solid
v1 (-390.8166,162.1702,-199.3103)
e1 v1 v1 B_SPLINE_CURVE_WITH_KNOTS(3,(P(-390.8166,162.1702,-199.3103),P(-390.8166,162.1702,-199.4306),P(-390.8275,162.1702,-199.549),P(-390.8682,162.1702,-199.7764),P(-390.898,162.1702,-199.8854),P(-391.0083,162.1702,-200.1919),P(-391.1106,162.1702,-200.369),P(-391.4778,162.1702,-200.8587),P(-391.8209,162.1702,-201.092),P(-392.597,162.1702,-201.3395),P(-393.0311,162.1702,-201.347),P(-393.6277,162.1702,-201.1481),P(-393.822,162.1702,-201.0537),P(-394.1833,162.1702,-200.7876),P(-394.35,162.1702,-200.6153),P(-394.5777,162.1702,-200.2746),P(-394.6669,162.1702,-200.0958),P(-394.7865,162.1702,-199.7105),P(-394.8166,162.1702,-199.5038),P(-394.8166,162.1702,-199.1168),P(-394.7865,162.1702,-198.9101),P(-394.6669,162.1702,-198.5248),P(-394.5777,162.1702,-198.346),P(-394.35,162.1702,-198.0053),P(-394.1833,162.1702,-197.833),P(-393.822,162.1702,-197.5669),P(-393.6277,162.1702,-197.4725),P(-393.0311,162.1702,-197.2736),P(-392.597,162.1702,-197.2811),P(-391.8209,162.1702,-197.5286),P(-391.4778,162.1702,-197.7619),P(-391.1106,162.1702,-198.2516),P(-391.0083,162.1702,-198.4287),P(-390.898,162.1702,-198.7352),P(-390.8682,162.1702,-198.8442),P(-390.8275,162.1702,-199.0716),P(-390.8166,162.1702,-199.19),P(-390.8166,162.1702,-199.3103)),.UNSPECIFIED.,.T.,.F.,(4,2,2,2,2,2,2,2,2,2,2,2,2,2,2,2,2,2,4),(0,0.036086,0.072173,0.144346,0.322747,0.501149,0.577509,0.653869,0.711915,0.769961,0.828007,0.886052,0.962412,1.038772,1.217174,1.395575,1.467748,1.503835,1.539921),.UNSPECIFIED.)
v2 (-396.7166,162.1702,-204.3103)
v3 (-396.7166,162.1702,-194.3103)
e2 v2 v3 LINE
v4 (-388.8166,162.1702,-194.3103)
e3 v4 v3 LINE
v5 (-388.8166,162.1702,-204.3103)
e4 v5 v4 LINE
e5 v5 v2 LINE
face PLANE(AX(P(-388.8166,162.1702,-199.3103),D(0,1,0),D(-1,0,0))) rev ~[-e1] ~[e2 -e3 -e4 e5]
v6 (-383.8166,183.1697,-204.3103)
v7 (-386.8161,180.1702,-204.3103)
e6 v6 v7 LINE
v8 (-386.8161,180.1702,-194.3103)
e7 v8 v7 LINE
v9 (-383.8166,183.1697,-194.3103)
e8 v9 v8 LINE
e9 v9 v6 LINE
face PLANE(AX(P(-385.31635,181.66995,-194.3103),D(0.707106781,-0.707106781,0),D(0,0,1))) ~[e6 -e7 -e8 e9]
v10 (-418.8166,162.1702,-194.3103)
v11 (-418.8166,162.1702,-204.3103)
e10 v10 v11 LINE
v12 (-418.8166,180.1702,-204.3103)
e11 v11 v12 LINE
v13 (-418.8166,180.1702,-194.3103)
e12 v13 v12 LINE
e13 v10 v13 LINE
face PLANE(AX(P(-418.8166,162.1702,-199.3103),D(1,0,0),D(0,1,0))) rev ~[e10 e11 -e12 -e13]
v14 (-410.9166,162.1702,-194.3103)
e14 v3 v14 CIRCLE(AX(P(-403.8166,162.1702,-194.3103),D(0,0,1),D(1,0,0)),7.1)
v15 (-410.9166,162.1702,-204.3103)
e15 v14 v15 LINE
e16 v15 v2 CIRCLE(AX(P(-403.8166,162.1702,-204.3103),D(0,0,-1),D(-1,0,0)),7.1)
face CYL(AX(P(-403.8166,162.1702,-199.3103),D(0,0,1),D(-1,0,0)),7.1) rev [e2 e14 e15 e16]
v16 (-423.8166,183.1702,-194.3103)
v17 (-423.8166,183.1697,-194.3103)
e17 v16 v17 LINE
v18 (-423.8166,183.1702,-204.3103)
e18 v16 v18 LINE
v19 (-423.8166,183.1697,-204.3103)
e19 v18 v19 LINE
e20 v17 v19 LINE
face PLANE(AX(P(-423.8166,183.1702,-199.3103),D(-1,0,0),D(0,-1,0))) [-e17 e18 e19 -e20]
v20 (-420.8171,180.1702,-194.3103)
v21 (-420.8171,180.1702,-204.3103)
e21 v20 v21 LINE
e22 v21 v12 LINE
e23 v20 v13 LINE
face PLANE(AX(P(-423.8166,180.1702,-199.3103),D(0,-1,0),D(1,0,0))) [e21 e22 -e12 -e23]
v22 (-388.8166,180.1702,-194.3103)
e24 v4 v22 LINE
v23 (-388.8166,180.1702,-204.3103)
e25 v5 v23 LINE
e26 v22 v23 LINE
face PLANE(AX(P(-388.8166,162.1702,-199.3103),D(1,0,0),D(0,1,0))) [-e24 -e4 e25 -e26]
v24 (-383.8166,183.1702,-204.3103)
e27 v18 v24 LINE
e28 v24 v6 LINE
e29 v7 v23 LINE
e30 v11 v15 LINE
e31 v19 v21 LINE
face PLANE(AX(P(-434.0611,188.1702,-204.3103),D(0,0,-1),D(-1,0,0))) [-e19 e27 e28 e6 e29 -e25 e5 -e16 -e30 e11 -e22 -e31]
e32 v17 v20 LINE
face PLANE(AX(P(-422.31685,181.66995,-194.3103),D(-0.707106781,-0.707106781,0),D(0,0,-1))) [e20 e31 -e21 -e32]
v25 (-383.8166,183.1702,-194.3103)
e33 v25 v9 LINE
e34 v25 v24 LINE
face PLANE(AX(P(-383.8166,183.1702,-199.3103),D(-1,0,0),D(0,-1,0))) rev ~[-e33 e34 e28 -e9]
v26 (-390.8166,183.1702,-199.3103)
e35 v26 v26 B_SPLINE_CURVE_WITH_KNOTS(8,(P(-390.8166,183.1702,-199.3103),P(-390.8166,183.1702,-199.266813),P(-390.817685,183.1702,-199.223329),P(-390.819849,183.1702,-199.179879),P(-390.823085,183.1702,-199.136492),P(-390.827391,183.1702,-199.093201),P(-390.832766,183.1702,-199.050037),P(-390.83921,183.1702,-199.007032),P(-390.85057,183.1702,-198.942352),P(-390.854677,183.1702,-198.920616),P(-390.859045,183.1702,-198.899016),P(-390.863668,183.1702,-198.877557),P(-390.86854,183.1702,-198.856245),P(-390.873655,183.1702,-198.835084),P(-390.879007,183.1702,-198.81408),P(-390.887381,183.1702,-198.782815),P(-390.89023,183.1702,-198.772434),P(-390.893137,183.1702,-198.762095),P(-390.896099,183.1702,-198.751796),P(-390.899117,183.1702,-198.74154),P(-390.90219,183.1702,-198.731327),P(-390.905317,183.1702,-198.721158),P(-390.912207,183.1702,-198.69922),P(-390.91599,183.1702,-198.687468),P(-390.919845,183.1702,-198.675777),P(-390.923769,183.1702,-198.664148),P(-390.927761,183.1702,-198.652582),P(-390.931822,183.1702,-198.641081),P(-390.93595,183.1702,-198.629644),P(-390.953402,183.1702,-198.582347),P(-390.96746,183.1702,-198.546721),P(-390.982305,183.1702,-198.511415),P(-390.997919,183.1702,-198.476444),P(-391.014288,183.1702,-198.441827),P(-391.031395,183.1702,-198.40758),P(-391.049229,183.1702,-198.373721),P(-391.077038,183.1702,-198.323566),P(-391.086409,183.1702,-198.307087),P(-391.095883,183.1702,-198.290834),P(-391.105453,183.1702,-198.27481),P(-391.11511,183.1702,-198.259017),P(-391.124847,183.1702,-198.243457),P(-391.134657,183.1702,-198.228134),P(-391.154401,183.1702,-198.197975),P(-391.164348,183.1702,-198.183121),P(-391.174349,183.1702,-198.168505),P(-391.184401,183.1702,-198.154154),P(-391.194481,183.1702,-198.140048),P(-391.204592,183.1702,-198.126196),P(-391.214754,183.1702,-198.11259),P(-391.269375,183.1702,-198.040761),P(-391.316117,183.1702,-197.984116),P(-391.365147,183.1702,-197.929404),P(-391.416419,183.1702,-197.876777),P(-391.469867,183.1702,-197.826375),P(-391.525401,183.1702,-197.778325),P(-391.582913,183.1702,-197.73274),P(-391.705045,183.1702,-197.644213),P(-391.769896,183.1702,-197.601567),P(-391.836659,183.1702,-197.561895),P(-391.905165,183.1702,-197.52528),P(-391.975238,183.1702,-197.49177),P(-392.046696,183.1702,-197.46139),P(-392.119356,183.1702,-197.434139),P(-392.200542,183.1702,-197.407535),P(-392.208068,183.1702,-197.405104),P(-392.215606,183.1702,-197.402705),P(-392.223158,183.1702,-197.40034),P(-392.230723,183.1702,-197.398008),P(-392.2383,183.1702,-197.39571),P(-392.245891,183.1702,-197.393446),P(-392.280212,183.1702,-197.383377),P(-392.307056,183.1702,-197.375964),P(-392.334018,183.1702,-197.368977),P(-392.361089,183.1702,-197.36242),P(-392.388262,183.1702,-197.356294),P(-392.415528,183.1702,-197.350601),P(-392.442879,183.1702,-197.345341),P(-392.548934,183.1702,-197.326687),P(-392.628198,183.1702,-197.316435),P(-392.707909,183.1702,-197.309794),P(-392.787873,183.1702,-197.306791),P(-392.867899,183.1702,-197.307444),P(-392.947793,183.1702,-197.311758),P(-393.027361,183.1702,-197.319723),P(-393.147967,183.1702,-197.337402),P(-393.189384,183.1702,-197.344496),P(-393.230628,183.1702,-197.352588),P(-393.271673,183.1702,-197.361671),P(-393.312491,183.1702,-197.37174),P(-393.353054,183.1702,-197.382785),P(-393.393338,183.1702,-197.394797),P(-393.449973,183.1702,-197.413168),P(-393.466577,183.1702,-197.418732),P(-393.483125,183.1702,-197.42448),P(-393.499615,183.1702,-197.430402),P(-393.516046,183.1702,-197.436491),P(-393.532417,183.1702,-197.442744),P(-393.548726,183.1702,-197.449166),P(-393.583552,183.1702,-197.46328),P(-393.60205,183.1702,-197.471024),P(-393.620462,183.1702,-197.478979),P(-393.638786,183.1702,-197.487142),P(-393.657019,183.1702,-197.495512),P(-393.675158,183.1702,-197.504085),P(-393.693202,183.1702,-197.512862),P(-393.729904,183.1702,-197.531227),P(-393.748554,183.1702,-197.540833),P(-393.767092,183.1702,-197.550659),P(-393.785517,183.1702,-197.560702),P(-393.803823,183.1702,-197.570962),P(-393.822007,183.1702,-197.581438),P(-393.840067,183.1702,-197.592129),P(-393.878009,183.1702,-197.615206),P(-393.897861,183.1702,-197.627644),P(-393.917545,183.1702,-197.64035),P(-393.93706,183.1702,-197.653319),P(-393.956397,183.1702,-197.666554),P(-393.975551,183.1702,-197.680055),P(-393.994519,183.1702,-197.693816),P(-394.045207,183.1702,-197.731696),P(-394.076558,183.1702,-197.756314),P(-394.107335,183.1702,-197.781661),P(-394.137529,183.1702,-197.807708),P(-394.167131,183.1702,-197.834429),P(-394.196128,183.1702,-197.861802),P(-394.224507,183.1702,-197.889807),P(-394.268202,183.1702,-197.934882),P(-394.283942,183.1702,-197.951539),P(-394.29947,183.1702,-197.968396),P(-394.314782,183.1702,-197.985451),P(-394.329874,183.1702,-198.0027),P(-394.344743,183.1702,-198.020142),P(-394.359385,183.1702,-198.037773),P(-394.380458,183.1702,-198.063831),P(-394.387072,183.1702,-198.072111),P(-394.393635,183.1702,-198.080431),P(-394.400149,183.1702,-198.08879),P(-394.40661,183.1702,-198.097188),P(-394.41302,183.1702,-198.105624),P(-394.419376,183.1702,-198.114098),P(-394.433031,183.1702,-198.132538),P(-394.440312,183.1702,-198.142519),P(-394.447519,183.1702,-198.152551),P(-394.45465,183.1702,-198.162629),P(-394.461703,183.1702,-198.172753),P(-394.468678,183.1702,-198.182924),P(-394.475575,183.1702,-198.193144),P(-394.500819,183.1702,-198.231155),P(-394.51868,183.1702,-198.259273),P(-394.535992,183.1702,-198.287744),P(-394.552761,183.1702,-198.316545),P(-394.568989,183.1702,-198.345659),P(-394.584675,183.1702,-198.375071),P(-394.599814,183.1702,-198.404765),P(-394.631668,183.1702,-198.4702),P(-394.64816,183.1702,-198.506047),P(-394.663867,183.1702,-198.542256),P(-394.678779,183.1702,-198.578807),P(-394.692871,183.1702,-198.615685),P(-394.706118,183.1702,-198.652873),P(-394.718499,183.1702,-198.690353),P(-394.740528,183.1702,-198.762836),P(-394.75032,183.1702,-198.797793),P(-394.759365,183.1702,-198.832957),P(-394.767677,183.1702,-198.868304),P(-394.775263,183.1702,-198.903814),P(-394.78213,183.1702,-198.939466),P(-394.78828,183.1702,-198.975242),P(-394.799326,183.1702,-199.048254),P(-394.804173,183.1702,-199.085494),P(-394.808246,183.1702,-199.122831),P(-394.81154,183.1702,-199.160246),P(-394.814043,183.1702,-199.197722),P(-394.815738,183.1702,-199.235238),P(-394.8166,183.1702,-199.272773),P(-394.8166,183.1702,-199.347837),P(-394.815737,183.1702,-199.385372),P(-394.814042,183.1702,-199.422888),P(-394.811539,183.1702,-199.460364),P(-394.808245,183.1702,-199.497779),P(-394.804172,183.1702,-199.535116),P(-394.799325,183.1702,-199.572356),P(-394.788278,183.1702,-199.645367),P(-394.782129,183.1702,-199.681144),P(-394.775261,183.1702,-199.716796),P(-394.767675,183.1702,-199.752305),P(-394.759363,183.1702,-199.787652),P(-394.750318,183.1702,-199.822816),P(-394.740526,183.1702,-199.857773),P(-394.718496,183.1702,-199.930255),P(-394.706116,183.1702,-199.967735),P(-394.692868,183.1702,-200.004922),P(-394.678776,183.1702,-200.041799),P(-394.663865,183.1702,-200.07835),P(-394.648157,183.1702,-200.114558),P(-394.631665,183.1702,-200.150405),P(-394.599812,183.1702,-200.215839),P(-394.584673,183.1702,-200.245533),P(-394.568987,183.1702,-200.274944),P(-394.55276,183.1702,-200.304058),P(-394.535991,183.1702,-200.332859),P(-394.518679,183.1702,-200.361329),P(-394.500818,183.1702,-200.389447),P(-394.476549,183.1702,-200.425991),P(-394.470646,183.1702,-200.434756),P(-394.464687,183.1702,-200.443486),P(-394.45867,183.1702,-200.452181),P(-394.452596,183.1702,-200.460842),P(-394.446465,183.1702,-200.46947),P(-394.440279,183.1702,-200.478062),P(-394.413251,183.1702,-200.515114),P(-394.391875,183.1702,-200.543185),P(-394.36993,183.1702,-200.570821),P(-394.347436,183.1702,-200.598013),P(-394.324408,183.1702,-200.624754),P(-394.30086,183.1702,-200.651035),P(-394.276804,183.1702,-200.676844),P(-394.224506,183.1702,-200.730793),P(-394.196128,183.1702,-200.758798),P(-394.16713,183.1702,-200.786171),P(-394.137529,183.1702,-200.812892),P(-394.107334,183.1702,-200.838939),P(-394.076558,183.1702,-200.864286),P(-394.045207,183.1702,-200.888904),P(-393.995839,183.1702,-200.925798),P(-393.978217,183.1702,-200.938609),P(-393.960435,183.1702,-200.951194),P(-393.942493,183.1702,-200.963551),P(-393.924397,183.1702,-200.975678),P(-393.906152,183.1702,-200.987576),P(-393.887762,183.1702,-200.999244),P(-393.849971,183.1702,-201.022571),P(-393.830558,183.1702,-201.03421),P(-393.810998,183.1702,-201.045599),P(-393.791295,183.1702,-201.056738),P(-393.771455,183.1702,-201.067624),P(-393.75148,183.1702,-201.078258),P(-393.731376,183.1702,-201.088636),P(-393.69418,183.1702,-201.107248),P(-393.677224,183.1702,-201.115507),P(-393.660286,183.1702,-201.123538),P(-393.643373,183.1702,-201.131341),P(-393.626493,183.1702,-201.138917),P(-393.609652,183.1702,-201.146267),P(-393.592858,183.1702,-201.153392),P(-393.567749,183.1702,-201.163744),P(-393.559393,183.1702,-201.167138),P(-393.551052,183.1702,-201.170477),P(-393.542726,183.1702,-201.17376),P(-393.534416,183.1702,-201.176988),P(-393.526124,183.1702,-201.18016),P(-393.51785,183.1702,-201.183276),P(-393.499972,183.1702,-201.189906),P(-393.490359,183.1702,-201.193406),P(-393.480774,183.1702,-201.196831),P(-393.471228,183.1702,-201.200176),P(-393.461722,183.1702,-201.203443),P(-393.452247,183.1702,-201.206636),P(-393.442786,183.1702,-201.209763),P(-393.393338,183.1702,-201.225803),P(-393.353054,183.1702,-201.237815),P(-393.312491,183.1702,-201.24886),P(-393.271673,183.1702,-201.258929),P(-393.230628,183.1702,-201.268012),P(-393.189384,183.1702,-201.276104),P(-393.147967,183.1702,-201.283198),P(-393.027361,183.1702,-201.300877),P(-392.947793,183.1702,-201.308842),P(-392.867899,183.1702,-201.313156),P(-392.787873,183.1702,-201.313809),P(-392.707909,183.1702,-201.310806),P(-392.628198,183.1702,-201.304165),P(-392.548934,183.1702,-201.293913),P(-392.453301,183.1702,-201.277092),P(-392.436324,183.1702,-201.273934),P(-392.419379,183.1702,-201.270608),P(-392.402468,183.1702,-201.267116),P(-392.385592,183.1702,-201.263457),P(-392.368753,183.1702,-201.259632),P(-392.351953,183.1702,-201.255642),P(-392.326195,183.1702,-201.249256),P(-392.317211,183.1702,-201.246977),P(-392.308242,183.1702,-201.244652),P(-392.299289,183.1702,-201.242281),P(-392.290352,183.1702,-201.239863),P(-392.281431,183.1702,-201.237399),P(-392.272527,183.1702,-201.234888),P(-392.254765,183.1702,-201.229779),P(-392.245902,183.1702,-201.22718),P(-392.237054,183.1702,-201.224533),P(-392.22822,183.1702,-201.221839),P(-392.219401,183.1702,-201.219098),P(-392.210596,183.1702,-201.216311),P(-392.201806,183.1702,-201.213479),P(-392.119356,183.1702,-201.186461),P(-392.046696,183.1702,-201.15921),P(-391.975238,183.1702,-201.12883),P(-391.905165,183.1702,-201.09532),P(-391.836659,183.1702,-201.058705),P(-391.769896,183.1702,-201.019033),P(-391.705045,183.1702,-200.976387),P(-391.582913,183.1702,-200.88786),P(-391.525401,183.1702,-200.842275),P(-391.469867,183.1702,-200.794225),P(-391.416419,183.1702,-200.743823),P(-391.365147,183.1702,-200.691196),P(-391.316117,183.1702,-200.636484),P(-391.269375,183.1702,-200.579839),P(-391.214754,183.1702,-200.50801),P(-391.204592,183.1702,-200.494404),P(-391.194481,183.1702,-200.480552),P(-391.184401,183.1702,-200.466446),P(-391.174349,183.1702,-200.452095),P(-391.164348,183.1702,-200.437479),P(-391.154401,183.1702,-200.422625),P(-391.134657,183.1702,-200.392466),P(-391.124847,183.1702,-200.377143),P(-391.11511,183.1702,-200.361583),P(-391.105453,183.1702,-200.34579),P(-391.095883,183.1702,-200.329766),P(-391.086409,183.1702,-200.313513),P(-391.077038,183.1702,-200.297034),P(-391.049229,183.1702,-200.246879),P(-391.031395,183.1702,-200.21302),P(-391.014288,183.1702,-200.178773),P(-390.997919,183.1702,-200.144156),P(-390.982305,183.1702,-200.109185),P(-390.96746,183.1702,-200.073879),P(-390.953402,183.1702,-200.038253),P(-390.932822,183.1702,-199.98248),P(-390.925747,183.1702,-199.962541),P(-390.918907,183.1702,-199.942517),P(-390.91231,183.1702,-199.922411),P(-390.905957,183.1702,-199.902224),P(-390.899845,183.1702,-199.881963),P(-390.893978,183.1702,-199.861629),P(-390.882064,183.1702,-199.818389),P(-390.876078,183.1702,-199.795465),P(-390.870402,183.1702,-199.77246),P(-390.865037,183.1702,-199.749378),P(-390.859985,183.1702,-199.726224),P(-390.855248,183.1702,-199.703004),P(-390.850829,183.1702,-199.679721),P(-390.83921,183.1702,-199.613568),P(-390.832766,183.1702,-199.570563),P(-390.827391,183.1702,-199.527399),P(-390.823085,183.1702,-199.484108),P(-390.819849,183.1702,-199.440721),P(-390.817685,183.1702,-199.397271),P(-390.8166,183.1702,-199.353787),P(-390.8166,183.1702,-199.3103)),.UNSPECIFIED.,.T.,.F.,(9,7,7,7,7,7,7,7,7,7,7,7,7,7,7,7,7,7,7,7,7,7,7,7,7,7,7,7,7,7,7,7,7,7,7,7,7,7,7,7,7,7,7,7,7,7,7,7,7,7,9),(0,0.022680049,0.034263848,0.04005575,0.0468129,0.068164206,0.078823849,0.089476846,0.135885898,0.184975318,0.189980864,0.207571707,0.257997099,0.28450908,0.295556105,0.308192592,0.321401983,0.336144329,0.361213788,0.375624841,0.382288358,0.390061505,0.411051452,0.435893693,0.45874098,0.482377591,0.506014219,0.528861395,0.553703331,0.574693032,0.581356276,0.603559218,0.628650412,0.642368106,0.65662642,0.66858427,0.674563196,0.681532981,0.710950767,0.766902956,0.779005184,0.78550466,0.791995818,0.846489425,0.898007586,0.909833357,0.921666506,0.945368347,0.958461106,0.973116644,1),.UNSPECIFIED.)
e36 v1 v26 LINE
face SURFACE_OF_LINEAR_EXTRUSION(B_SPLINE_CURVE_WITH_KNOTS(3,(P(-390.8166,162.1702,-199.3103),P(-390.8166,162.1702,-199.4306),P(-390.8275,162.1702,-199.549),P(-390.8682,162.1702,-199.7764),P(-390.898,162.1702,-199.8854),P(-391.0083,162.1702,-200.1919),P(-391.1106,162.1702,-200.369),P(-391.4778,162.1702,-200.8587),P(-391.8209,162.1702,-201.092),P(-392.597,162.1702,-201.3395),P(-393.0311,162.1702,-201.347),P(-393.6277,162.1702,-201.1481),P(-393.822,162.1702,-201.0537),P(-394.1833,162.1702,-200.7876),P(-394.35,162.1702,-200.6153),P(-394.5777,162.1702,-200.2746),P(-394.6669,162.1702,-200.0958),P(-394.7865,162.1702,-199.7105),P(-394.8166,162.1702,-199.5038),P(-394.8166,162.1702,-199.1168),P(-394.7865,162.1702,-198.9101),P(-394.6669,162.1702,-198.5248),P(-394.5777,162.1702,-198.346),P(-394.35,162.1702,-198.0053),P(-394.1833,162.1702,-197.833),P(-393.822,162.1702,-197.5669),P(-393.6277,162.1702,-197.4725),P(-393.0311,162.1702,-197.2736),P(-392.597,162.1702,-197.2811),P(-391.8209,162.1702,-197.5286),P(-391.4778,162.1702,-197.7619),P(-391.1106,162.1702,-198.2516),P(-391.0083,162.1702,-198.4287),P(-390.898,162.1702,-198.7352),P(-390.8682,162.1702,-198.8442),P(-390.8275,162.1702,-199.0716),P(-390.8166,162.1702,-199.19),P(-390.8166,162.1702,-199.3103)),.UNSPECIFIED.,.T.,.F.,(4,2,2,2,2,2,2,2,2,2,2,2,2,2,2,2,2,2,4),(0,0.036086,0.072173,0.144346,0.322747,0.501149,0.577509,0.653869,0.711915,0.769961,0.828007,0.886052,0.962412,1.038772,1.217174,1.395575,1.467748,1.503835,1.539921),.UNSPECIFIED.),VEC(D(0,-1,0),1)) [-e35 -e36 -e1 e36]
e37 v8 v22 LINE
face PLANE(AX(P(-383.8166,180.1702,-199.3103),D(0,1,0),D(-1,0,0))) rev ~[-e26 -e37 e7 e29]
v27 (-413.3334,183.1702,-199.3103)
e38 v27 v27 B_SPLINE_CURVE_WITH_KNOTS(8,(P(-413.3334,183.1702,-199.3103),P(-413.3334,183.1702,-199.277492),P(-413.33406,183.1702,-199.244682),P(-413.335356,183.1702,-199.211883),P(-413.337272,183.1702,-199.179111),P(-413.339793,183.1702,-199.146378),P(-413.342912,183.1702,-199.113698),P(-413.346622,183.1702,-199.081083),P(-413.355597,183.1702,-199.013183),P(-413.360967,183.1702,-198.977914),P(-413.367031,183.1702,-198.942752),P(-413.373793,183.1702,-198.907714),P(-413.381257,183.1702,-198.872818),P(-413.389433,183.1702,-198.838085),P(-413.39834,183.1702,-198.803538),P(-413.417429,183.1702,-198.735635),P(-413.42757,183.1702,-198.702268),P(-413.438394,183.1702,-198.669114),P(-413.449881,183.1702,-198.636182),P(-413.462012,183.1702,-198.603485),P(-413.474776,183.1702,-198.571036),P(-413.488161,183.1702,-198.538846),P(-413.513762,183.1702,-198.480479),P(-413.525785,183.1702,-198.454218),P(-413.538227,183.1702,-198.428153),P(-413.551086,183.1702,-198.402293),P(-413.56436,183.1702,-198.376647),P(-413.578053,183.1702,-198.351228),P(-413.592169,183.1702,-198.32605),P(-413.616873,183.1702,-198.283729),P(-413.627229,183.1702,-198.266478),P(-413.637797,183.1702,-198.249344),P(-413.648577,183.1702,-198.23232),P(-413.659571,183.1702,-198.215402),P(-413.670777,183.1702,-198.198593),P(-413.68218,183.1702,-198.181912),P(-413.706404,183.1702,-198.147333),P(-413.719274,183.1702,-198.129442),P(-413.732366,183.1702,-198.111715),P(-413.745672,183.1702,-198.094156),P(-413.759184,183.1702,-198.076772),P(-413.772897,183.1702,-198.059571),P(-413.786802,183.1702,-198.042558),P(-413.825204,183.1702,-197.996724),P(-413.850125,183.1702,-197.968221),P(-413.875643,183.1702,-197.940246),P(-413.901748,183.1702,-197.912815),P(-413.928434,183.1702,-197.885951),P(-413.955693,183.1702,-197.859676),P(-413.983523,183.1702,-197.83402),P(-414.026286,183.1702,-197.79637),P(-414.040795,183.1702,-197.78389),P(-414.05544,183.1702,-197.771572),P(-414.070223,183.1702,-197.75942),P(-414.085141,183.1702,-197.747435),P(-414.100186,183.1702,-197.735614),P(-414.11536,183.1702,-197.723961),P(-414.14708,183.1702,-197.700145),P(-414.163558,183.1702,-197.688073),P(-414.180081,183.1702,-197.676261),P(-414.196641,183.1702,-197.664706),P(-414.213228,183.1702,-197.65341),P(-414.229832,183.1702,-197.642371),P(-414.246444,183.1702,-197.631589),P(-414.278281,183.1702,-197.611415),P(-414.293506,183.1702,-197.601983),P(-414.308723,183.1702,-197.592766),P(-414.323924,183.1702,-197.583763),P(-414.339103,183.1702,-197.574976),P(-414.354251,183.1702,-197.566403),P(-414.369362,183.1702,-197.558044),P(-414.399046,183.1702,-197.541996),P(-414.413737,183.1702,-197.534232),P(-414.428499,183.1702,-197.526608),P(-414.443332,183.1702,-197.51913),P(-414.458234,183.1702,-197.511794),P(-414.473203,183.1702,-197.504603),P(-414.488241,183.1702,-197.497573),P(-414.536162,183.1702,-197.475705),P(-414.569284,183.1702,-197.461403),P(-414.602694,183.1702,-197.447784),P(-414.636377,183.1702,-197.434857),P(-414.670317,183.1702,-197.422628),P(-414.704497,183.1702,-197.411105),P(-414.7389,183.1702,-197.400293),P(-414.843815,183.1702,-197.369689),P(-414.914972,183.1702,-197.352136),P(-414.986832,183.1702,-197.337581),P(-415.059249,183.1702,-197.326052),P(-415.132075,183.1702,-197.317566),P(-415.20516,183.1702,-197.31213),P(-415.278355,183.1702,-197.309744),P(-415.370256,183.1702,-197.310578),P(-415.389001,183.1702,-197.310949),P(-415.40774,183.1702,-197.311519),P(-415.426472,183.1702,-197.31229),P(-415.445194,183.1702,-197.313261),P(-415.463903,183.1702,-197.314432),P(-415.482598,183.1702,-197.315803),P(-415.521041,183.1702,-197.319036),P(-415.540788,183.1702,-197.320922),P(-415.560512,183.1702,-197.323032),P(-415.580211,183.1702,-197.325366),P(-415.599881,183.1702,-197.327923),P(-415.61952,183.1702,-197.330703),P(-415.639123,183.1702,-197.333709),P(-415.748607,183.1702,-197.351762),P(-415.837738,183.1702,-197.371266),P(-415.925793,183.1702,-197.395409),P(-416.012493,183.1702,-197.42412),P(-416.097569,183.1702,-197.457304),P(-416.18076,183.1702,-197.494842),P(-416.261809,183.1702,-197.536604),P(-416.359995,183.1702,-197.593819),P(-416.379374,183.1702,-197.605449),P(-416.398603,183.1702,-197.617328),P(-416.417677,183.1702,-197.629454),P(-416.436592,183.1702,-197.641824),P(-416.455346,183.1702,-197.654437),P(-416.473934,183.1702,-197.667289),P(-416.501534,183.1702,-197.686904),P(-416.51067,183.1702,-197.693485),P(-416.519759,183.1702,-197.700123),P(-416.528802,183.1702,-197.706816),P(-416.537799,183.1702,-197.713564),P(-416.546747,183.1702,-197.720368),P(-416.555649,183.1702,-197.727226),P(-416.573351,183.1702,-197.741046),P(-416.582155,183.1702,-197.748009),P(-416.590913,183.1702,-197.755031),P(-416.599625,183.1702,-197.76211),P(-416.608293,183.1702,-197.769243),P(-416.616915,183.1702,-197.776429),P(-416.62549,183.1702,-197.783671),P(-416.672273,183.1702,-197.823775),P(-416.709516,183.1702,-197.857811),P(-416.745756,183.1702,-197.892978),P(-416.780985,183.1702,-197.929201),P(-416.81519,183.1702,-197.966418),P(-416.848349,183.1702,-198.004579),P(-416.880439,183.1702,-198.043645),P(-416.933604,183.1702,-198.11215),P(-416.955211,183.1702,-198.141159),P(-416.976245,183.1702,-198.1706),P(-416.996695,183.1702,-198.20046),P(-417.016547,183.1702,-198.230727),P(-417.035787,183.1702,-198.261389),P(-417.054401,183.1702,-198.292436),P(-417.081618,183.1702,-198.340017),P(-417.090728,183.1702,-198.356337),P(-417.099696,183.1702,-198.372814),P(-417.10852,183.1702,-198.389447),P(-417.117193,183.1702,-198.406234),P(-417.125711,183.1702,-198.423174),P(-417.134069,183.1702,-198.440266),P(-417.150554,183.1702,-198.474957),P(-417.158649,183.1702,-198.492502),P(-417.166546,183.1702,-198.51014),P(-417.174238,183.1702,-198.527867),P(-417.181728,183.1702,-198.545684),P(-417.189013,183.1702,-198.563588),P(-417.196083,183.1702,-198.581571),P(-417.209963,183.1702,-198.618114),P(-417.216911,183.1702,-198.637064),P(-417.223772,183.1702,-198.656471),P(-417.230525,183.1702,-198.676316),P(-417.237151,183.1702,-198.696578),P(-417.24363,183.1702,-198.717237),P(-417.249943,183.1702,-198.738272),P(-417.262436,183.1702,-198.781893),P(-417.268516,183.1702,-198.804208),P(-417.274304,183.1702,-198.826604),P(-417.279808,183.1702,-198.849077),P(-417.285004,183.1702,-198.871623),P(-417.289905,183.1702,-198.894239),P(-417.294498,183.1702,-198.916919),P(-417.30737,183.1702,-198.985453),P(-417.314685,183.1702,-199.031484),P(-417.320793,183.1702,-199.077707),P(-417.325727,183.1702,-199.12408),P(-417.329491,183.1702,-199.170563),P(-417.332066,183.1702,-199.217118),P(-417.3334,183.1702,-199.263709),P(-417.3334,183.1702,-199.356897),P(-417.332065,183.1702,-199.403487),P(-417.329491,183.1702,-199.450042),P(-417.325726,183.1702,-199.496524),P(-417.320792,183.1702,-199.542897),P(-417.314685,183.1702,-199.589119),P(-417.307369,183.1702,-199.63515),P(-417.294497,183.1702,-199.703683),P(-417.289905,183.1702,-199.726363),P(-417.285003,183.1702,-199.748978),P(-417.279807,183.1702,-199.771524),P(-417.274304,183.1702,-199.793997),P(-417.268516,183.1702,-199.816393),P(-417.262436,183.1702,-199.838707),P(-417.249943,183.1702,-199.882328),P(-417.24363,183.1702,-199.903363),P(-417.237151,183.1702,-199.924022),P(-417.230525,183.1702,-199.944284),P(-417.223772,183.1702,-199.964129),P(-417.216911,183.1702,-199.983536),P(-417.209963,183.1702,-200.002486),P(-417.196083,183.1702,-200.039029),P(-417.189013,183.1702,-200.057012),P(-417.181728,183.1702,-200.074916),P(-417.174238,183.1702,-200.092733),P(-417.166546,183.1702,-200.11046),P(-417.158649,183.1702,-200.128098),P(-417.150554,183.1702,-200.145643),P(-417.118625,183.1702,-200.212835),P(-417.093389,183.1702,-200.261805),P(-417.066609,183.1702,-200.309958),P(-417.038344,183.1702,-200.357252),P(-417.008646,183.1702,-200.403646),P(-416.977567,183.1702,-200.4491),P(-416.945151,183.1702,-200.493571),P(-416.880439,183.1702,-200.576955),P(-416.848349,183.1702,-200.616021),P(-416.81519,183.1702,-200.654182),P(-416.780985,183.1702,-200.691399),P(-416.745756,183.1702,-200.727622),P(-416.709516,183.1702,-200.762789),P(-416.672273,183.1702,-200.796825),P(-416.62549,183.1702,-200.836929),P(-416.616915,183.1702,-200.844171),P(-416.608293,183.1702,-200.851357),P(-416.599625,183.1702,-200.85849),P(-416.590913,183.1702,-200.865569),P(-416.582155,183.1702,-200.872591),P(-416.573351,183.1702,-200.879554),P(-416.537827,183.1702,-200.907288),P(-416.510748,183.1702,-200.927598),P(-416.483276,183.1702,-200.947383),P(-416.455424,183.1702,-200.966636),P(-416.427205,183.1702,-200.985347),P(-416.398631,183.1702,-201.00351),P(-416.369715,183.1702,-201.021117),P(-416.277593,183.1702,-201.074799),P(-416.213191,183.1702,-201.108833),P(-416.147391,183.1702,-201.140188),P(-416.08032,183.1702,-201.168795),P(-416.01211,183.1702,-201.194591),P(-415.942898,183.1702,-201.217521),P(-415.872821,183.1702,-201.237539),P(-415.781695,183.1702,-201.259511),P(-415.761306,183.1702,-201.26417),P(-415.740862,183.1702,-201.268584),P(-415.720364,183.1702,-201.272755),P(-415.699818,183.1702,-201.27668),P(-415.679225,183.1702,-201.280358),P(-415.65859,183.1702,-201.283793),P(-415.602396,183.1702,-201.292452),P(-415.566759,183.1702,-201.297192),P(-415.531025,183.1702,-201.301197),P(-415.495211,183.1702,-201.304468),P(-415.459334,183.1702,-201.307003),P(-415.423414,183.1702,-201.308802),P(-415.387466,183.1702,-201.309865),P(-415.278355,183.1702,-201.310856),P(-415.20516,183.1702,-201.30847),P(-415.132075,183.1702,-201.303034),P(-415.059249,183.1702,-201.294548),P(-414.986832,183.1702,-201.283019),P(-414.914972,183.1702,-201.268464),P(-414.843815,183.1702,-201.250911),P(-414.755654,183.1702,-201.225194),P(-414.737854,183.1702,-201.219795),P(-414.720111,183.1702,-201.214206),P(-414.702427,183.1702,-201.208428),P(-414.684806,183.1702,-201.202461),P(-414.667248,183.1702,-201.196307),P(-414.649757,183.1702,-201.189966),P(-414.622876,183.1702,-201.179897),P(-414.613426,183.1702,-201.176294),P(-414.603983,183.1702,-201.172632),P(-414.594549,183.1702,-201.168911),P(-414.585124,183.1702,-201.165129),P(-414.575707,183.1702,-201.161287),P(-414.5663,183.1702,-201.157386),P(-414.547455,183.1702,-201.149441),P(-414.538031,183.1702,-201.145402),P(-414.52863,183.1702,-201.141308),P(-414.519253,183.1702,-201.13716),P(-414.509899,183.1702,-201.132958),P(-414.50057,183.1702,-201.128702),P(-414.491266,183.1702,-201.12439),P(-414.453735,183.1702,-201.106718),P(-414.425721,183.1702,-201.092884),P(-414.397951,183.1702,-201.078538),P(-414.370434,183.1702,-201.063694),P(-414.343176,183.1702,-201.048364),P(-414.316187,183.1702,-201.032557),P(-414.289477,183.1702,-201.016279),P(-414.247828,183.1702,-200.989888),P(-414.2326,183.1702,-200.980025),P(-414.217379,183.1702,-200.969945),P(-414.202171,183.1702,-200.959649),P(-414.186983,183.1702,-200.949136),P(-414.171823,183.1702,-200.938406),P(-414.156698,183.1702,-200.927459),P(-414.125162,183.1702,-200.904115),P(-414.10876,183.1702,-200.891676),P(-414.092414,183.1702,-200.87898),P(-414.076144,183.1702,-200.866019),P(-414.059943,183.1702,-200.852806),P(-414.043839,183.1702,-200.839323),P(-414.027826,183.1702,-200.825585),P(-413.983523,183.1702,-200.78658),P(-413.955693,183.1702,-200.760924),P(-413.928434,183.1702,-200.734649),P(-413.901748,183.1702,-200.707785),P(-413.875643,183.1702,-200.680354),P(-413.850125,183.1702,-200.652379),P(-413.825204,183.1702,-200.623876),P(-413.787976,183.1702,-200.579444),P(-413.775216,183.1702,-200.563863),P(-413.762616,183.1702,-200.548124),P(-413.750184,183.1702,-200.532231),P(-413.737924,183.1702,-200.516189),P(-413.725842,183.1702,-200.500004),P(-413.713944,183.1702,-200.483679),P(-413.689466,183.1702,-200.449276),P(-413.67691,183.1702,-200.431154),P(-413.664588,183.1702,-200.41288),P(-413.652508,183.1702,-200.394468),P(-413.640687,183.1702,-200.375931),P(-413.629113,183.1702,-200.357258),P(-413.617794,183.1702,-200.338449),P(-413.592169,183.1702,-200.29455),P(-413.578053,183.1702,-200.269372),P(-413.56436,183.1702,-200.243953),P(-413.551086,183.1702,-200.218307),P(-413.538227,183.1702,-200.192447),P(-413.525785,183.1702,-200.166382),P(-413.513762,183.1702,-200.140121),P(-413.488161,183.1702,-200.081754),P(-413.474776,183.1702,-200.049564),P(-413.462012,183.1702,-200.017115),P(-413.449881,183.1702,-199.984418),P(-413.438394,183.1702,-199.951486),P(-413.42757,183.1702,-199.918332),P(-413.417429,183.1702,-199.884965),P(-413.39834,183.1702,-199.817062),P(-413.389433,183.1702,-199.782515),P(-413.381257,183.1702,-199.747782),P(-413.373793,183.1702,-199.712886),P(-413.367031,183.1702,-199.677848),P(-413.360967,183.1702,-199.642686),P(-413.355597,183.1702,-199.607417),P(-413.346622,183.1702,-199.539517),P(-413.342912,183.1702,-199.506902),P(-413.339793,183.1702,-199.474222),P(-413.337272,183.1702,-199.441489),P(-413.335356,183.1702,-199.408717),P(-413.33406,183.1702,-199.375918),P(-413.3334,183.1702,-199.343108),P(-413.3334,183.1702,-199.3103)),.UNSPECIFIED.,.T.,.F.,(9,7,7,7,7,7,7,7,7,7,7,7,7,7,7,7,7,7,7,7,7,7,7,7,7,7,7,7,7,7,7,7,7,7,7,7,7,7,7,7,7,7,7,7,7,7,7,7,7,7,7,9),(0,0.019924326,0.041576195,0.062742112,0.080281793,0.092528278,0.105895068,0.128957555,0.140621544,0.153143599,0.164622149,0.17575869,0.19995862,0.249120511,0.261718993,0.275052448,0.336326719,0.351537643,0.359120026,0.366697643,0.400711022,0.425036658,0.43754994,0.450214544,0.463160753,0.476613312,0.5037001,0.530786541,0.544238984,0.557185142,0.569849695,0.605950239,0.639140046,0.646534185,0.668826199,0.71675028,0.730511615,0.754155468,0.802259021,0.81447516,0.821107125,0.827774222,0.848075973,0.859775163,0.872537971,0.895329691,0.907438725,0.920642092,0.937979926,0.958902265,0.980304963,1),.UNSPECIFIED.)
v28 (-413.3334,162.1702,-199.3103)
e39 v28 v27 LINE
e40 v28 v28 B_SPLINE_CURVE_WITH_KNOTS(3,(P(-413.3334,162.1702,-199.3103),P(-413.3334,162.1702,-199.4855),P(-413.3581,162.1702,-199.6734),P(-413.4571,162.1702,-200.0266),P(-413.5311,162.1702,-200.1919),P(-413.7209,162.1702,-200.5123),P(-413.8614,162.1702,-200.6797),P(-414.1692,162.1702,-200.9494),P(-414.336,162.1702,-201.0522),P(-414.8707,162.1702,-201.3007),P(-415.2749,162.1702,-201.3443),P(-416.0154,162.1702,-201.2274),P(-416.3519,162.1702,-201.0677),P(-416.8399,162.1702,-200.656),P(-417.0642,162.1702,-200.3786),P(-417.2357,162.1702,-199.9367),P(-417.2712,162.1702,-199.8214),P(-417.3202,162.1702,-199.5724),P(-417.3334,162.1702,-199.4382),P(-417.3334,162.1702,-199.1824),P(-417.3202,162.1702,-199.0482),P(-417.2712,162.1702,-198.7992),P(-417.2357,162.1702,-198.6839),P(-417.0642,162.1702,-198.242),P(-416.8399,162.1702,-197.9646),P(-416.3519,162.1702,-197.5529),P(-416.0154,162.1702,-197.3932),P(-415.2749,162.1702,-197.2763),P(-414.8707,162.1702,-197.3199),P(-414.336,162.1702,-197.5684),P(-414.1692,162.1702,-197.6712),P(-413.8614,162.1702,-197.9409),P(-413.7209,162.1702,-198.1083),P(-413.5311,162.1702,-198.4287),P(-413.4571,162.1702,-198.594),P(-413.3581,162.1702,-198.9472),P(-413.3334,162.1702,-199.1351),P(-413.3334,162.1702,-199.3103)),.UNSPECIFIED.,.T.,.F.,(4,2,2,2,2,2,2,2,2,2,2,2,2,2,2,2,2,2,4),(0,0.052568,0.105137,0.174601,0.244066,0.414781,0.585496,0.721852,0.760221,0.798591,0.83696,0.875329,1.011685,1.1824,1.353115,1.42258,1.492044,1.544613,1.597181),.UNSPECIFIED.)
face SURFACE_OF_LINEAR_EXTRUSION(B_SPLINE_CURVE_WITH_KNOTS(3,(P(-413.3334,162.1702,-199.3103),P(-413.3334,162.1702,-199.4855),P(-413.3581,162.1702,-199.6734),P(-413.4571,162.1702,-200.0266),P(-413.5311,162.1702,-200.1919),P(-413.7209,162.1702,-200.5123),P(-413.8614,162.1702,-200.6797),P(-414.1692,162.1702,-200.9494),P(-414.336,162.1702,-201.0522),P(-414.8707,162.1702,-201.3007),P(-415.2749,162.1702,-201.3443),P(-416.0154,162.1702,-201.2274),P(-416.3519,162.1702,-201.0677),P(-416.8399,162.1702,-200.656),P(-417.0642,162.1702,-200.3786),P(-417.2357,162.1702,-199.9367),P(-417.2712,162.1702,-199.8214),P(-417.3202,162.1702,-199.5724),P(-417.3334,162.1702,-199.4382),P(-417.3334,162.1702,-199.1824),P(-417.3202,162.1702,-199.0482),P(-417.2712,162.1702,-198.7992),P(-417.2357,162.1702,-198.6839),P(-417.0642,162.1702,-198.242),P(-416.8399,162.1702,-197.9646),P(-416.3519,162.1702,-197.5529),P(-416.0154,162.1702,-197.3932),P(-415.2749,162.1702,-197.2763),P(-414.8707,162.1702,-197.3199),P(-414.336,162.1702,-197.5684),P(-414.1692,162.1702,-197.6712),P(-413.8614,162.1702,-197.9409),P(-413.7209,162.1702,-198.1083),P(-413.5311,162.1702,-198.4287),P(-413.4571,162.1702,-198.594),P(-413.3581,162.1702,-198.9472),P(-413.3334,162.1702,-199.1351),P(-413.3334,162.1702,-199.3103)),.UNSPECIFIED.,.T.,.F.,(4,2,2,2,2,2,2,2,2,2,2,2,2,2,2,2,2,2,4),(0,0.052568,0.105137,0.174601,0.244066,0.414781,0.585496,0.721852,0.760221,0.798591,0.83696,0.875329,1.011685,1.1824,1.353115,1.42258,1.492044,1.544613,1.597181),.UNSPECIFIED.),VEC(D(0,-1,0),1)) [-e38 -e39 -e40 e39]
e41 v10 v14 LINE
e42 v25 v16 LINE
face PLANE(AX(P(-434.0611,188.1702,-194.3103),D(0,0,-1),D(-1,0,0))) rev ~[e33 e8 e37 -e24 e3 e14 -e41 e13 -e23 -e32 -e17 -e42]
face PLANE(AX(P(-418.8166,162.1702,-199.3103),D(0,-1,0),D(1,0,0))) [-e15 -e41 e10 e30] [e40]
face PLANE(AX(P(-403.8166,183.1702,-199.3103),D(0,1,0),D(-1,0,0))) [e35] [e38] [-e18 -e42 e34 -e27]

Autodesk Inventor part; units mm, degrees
ref_plane "YZ Plane" through (0, 0, 0) normal (1, 0, 0) x (0, 1, 0)
ref_plane "XZ Plane" through (0, 0, 0) normal (0, 1, 0) x (-1, 0, 0)
ref_plane "XY Plane" through (0, 0, 0) normal (0, 0, 1) x (1, 0, 0)
ref_plane "РабПлоскость2" through (-434.0611, 188.1702, -199.3103) normal (0, 0, -1) x (-1, 0, 0)
sketch "Эскиз2" plane through (-434.0611, 188.1702, -199.3103) normal (0, 0, -1) x (-1, 0, 0)
  circle A0 centre (-30.2445, -26) radius 2.5 projected
  circle A1 centre (-30.2445, -26) radius 2.5
  circle A2 centre (-30.2445, -26) radius 7.1
  line L0 (-60, -5) -> (0, -5) projected
  line L1 (-30.2445, -26) -> (-30.2445, -50.8115)
  line L2 (-30.2445, -50.8115) -> (-30.2445, 7.1034)
  line L3 (-30.2445, -5) -> (-50.2445, -5)
  line L4 (-50.2445, -5) -> (-50.2445, -8)
  line L5 (-50.2445, -8) -> (-45.2445, -8)
  circle A3 centre (-30.2445, -26) radius 15
  line L6 (-45.2445, -26) -> (-45.2445, -8)
  line L7 (-45.2445, -26) -> (-30.2445, -26)
  line L8 (-30.2445, -5) -> (-10.2445, -5)
  line L9 (-10.2445, -5) -> (-10.2445, -8)
  line L10 (-10.2445, -8) -> (-15.2445, -8)
  line L11 (-15.2445, -26) -> (-15.2445, -8)
  line L12 (-15.2445, -26) -> (-30.2445, -26)
  point P0 (-434.0611, -188.1702)
  point P1 (-37.3445, -26)
  point P2 (-23.1445, -26)
  point P3 (-10.2445, -5)
  dimension "d5" = 30
  dimension "d1" = 14.2
  dimension "d2" = 20
  dimension "d3" = 3
extrude "Выдавливание1" add sketch "Эскиз2" along normal mid plane 10 contours A2 L2 A3 L12 | A2 L7 A3 L2 | A3 L2 L0 L9 L10 L11 | A3 L6 L5 L4 L0 L2
sketch "Эскиз3" plane through (-396.7166, 162.1702, -204.3103) normal (0, -1, 0) x (1, 0, 0)
  spline S0 degree 3 poles (5.9, 5) (5.9, 4.8797) (5.8891, 4.7613) (5.8484, 4.5339) (5.8186, 4.4249) (5.7083, 4.1184) (5.606, 3.9413) (5.2388, 3.4516) (4.8957, 3.2183) (4.1196, 2.9708) (3.6855, 2.9633) (3.0889, 3.1622) (2.8946, 3.2566) (2.5333, 3.5227) (2.3666, 3.695) (2.1389, 4.0357) (2.0497, 4.2145) (1.9301, 4.5998) (1.9, 4.8065) (1.9, 5.1935) (1.9301, 5.4002) (2.0497, 5.7855) (2.1389, 5.9643) (2.3666, 6.305) (2.5333, 6.4773) (2.8946, 6.7434) (3.0889, 6.8378) (3.6855, 7.0367) (4.1196, 7.0292) (4.8957, 6.7817) (5.2388, 6.5484) (5.606, 6.0587) (5.7083, 5.8816) (5.8186, 5.5751) (5.8484, 5.4661) (5.8891, 5.2387) (5.9, 5.1203) (5.9, 5) knots 0 0 0 0 0.036086 0.036086 0.072173 0.072173 0.144346 0.144346 0.322747 0.322747 0.501149 0.501149 0.577509 0.577509 0.653869 0.653869 0.711915 0.711915 0.769961 0.769961 0.828007 0.828007 0.886052 0.886052 0.962412 0.962412 1.038772 1.038772 1.217174 1.217174 1.395575 1.395575 1.467748 1.467748 1.503835 1.503835 1.539921 1.539921 1.539921 1.539921 projected
  spline S1 degree 3 poles (-16.6168, 5) (-16.6168, 4.8248) (-16.6415, 4.6369) (-16.7405, 4.2837) (-16.8145, 4.1184) (-17.0043, 3.798) (-17.1448, 3.6306) (-17.4526, 3.3609) (-17.6194, 3.2581) (-18.1541, 3.0096) (-18.5583, 2.966) (-19.2988, 3.0829) (-19.6353, 3.2426) (-20.1233, 3.6543) (-20.3476, 3.9317) (-20.5191, 4.3736) (-20.5546, 4.4889) (-20.6036, 4.7379) (-20.6168, 4.8721) (-20.6168, 5.1279) (-20.6036, 5.2621) (-20.5546, 5.5111) (-20.5191, 5.6264) (-20.3476, 6.0683) (-20.1233, 6.3457) (-19.6353, 6.7574) (-19.2988, 6.9171) (-18.5583, 7.034) (-18.1541, 6.9904) (-17.6194, 6.7419) (-17.4526, 6.6391) (-17.1448, 6.3694) (-17.0043, 6.202) (-16.8145, 5.8816) (-16.7405, 5.7163) (-16.6415, 5.3631) (-16.6168, 5.1752) (-16.6168, 5) knots 0 0 0 0 0.052568 0.052568 0.105137 0.105137 0.174601 0.174601 0.244066 0.244066 0.414781 0.414781 0.585496 0.585496 0.721852 0.721852 0.760221 0.760221 0.798591 0.798591 0.83696 0.83696 0.875329 0.875329 1.011685 1.011685 1.1824 1.1824 1.353115 1.353115 1.42258 1.42258 1.492044 1.492044 1.544613 1.544613 1.597181 1.597181 1.597181 1.597181 projected
  point P0 (396.7166, 204.3103)
  point P1 (5.9, 5)
  point P2 (-16.6168, 5)
extrude "Выдавливание2" cut sketch "Эскиз3" against normal blind 30.25
chamfer "Фаска1" distance 3 angle 45 1 edges at (-383.8166, 180.1702, -199.3103)
chamfer "Фаска2" distance 3 angle 45 1 edges at (-423.8166, 180.1702, -199.3103)
sketch "Эскиз4" plane through (-434.0611, 188.1702, -204.3103) normal (0, 0, -1) x (-1, 0, 0)
  point P0 (-434.0611, -188.1702)
properties part number "цили"
